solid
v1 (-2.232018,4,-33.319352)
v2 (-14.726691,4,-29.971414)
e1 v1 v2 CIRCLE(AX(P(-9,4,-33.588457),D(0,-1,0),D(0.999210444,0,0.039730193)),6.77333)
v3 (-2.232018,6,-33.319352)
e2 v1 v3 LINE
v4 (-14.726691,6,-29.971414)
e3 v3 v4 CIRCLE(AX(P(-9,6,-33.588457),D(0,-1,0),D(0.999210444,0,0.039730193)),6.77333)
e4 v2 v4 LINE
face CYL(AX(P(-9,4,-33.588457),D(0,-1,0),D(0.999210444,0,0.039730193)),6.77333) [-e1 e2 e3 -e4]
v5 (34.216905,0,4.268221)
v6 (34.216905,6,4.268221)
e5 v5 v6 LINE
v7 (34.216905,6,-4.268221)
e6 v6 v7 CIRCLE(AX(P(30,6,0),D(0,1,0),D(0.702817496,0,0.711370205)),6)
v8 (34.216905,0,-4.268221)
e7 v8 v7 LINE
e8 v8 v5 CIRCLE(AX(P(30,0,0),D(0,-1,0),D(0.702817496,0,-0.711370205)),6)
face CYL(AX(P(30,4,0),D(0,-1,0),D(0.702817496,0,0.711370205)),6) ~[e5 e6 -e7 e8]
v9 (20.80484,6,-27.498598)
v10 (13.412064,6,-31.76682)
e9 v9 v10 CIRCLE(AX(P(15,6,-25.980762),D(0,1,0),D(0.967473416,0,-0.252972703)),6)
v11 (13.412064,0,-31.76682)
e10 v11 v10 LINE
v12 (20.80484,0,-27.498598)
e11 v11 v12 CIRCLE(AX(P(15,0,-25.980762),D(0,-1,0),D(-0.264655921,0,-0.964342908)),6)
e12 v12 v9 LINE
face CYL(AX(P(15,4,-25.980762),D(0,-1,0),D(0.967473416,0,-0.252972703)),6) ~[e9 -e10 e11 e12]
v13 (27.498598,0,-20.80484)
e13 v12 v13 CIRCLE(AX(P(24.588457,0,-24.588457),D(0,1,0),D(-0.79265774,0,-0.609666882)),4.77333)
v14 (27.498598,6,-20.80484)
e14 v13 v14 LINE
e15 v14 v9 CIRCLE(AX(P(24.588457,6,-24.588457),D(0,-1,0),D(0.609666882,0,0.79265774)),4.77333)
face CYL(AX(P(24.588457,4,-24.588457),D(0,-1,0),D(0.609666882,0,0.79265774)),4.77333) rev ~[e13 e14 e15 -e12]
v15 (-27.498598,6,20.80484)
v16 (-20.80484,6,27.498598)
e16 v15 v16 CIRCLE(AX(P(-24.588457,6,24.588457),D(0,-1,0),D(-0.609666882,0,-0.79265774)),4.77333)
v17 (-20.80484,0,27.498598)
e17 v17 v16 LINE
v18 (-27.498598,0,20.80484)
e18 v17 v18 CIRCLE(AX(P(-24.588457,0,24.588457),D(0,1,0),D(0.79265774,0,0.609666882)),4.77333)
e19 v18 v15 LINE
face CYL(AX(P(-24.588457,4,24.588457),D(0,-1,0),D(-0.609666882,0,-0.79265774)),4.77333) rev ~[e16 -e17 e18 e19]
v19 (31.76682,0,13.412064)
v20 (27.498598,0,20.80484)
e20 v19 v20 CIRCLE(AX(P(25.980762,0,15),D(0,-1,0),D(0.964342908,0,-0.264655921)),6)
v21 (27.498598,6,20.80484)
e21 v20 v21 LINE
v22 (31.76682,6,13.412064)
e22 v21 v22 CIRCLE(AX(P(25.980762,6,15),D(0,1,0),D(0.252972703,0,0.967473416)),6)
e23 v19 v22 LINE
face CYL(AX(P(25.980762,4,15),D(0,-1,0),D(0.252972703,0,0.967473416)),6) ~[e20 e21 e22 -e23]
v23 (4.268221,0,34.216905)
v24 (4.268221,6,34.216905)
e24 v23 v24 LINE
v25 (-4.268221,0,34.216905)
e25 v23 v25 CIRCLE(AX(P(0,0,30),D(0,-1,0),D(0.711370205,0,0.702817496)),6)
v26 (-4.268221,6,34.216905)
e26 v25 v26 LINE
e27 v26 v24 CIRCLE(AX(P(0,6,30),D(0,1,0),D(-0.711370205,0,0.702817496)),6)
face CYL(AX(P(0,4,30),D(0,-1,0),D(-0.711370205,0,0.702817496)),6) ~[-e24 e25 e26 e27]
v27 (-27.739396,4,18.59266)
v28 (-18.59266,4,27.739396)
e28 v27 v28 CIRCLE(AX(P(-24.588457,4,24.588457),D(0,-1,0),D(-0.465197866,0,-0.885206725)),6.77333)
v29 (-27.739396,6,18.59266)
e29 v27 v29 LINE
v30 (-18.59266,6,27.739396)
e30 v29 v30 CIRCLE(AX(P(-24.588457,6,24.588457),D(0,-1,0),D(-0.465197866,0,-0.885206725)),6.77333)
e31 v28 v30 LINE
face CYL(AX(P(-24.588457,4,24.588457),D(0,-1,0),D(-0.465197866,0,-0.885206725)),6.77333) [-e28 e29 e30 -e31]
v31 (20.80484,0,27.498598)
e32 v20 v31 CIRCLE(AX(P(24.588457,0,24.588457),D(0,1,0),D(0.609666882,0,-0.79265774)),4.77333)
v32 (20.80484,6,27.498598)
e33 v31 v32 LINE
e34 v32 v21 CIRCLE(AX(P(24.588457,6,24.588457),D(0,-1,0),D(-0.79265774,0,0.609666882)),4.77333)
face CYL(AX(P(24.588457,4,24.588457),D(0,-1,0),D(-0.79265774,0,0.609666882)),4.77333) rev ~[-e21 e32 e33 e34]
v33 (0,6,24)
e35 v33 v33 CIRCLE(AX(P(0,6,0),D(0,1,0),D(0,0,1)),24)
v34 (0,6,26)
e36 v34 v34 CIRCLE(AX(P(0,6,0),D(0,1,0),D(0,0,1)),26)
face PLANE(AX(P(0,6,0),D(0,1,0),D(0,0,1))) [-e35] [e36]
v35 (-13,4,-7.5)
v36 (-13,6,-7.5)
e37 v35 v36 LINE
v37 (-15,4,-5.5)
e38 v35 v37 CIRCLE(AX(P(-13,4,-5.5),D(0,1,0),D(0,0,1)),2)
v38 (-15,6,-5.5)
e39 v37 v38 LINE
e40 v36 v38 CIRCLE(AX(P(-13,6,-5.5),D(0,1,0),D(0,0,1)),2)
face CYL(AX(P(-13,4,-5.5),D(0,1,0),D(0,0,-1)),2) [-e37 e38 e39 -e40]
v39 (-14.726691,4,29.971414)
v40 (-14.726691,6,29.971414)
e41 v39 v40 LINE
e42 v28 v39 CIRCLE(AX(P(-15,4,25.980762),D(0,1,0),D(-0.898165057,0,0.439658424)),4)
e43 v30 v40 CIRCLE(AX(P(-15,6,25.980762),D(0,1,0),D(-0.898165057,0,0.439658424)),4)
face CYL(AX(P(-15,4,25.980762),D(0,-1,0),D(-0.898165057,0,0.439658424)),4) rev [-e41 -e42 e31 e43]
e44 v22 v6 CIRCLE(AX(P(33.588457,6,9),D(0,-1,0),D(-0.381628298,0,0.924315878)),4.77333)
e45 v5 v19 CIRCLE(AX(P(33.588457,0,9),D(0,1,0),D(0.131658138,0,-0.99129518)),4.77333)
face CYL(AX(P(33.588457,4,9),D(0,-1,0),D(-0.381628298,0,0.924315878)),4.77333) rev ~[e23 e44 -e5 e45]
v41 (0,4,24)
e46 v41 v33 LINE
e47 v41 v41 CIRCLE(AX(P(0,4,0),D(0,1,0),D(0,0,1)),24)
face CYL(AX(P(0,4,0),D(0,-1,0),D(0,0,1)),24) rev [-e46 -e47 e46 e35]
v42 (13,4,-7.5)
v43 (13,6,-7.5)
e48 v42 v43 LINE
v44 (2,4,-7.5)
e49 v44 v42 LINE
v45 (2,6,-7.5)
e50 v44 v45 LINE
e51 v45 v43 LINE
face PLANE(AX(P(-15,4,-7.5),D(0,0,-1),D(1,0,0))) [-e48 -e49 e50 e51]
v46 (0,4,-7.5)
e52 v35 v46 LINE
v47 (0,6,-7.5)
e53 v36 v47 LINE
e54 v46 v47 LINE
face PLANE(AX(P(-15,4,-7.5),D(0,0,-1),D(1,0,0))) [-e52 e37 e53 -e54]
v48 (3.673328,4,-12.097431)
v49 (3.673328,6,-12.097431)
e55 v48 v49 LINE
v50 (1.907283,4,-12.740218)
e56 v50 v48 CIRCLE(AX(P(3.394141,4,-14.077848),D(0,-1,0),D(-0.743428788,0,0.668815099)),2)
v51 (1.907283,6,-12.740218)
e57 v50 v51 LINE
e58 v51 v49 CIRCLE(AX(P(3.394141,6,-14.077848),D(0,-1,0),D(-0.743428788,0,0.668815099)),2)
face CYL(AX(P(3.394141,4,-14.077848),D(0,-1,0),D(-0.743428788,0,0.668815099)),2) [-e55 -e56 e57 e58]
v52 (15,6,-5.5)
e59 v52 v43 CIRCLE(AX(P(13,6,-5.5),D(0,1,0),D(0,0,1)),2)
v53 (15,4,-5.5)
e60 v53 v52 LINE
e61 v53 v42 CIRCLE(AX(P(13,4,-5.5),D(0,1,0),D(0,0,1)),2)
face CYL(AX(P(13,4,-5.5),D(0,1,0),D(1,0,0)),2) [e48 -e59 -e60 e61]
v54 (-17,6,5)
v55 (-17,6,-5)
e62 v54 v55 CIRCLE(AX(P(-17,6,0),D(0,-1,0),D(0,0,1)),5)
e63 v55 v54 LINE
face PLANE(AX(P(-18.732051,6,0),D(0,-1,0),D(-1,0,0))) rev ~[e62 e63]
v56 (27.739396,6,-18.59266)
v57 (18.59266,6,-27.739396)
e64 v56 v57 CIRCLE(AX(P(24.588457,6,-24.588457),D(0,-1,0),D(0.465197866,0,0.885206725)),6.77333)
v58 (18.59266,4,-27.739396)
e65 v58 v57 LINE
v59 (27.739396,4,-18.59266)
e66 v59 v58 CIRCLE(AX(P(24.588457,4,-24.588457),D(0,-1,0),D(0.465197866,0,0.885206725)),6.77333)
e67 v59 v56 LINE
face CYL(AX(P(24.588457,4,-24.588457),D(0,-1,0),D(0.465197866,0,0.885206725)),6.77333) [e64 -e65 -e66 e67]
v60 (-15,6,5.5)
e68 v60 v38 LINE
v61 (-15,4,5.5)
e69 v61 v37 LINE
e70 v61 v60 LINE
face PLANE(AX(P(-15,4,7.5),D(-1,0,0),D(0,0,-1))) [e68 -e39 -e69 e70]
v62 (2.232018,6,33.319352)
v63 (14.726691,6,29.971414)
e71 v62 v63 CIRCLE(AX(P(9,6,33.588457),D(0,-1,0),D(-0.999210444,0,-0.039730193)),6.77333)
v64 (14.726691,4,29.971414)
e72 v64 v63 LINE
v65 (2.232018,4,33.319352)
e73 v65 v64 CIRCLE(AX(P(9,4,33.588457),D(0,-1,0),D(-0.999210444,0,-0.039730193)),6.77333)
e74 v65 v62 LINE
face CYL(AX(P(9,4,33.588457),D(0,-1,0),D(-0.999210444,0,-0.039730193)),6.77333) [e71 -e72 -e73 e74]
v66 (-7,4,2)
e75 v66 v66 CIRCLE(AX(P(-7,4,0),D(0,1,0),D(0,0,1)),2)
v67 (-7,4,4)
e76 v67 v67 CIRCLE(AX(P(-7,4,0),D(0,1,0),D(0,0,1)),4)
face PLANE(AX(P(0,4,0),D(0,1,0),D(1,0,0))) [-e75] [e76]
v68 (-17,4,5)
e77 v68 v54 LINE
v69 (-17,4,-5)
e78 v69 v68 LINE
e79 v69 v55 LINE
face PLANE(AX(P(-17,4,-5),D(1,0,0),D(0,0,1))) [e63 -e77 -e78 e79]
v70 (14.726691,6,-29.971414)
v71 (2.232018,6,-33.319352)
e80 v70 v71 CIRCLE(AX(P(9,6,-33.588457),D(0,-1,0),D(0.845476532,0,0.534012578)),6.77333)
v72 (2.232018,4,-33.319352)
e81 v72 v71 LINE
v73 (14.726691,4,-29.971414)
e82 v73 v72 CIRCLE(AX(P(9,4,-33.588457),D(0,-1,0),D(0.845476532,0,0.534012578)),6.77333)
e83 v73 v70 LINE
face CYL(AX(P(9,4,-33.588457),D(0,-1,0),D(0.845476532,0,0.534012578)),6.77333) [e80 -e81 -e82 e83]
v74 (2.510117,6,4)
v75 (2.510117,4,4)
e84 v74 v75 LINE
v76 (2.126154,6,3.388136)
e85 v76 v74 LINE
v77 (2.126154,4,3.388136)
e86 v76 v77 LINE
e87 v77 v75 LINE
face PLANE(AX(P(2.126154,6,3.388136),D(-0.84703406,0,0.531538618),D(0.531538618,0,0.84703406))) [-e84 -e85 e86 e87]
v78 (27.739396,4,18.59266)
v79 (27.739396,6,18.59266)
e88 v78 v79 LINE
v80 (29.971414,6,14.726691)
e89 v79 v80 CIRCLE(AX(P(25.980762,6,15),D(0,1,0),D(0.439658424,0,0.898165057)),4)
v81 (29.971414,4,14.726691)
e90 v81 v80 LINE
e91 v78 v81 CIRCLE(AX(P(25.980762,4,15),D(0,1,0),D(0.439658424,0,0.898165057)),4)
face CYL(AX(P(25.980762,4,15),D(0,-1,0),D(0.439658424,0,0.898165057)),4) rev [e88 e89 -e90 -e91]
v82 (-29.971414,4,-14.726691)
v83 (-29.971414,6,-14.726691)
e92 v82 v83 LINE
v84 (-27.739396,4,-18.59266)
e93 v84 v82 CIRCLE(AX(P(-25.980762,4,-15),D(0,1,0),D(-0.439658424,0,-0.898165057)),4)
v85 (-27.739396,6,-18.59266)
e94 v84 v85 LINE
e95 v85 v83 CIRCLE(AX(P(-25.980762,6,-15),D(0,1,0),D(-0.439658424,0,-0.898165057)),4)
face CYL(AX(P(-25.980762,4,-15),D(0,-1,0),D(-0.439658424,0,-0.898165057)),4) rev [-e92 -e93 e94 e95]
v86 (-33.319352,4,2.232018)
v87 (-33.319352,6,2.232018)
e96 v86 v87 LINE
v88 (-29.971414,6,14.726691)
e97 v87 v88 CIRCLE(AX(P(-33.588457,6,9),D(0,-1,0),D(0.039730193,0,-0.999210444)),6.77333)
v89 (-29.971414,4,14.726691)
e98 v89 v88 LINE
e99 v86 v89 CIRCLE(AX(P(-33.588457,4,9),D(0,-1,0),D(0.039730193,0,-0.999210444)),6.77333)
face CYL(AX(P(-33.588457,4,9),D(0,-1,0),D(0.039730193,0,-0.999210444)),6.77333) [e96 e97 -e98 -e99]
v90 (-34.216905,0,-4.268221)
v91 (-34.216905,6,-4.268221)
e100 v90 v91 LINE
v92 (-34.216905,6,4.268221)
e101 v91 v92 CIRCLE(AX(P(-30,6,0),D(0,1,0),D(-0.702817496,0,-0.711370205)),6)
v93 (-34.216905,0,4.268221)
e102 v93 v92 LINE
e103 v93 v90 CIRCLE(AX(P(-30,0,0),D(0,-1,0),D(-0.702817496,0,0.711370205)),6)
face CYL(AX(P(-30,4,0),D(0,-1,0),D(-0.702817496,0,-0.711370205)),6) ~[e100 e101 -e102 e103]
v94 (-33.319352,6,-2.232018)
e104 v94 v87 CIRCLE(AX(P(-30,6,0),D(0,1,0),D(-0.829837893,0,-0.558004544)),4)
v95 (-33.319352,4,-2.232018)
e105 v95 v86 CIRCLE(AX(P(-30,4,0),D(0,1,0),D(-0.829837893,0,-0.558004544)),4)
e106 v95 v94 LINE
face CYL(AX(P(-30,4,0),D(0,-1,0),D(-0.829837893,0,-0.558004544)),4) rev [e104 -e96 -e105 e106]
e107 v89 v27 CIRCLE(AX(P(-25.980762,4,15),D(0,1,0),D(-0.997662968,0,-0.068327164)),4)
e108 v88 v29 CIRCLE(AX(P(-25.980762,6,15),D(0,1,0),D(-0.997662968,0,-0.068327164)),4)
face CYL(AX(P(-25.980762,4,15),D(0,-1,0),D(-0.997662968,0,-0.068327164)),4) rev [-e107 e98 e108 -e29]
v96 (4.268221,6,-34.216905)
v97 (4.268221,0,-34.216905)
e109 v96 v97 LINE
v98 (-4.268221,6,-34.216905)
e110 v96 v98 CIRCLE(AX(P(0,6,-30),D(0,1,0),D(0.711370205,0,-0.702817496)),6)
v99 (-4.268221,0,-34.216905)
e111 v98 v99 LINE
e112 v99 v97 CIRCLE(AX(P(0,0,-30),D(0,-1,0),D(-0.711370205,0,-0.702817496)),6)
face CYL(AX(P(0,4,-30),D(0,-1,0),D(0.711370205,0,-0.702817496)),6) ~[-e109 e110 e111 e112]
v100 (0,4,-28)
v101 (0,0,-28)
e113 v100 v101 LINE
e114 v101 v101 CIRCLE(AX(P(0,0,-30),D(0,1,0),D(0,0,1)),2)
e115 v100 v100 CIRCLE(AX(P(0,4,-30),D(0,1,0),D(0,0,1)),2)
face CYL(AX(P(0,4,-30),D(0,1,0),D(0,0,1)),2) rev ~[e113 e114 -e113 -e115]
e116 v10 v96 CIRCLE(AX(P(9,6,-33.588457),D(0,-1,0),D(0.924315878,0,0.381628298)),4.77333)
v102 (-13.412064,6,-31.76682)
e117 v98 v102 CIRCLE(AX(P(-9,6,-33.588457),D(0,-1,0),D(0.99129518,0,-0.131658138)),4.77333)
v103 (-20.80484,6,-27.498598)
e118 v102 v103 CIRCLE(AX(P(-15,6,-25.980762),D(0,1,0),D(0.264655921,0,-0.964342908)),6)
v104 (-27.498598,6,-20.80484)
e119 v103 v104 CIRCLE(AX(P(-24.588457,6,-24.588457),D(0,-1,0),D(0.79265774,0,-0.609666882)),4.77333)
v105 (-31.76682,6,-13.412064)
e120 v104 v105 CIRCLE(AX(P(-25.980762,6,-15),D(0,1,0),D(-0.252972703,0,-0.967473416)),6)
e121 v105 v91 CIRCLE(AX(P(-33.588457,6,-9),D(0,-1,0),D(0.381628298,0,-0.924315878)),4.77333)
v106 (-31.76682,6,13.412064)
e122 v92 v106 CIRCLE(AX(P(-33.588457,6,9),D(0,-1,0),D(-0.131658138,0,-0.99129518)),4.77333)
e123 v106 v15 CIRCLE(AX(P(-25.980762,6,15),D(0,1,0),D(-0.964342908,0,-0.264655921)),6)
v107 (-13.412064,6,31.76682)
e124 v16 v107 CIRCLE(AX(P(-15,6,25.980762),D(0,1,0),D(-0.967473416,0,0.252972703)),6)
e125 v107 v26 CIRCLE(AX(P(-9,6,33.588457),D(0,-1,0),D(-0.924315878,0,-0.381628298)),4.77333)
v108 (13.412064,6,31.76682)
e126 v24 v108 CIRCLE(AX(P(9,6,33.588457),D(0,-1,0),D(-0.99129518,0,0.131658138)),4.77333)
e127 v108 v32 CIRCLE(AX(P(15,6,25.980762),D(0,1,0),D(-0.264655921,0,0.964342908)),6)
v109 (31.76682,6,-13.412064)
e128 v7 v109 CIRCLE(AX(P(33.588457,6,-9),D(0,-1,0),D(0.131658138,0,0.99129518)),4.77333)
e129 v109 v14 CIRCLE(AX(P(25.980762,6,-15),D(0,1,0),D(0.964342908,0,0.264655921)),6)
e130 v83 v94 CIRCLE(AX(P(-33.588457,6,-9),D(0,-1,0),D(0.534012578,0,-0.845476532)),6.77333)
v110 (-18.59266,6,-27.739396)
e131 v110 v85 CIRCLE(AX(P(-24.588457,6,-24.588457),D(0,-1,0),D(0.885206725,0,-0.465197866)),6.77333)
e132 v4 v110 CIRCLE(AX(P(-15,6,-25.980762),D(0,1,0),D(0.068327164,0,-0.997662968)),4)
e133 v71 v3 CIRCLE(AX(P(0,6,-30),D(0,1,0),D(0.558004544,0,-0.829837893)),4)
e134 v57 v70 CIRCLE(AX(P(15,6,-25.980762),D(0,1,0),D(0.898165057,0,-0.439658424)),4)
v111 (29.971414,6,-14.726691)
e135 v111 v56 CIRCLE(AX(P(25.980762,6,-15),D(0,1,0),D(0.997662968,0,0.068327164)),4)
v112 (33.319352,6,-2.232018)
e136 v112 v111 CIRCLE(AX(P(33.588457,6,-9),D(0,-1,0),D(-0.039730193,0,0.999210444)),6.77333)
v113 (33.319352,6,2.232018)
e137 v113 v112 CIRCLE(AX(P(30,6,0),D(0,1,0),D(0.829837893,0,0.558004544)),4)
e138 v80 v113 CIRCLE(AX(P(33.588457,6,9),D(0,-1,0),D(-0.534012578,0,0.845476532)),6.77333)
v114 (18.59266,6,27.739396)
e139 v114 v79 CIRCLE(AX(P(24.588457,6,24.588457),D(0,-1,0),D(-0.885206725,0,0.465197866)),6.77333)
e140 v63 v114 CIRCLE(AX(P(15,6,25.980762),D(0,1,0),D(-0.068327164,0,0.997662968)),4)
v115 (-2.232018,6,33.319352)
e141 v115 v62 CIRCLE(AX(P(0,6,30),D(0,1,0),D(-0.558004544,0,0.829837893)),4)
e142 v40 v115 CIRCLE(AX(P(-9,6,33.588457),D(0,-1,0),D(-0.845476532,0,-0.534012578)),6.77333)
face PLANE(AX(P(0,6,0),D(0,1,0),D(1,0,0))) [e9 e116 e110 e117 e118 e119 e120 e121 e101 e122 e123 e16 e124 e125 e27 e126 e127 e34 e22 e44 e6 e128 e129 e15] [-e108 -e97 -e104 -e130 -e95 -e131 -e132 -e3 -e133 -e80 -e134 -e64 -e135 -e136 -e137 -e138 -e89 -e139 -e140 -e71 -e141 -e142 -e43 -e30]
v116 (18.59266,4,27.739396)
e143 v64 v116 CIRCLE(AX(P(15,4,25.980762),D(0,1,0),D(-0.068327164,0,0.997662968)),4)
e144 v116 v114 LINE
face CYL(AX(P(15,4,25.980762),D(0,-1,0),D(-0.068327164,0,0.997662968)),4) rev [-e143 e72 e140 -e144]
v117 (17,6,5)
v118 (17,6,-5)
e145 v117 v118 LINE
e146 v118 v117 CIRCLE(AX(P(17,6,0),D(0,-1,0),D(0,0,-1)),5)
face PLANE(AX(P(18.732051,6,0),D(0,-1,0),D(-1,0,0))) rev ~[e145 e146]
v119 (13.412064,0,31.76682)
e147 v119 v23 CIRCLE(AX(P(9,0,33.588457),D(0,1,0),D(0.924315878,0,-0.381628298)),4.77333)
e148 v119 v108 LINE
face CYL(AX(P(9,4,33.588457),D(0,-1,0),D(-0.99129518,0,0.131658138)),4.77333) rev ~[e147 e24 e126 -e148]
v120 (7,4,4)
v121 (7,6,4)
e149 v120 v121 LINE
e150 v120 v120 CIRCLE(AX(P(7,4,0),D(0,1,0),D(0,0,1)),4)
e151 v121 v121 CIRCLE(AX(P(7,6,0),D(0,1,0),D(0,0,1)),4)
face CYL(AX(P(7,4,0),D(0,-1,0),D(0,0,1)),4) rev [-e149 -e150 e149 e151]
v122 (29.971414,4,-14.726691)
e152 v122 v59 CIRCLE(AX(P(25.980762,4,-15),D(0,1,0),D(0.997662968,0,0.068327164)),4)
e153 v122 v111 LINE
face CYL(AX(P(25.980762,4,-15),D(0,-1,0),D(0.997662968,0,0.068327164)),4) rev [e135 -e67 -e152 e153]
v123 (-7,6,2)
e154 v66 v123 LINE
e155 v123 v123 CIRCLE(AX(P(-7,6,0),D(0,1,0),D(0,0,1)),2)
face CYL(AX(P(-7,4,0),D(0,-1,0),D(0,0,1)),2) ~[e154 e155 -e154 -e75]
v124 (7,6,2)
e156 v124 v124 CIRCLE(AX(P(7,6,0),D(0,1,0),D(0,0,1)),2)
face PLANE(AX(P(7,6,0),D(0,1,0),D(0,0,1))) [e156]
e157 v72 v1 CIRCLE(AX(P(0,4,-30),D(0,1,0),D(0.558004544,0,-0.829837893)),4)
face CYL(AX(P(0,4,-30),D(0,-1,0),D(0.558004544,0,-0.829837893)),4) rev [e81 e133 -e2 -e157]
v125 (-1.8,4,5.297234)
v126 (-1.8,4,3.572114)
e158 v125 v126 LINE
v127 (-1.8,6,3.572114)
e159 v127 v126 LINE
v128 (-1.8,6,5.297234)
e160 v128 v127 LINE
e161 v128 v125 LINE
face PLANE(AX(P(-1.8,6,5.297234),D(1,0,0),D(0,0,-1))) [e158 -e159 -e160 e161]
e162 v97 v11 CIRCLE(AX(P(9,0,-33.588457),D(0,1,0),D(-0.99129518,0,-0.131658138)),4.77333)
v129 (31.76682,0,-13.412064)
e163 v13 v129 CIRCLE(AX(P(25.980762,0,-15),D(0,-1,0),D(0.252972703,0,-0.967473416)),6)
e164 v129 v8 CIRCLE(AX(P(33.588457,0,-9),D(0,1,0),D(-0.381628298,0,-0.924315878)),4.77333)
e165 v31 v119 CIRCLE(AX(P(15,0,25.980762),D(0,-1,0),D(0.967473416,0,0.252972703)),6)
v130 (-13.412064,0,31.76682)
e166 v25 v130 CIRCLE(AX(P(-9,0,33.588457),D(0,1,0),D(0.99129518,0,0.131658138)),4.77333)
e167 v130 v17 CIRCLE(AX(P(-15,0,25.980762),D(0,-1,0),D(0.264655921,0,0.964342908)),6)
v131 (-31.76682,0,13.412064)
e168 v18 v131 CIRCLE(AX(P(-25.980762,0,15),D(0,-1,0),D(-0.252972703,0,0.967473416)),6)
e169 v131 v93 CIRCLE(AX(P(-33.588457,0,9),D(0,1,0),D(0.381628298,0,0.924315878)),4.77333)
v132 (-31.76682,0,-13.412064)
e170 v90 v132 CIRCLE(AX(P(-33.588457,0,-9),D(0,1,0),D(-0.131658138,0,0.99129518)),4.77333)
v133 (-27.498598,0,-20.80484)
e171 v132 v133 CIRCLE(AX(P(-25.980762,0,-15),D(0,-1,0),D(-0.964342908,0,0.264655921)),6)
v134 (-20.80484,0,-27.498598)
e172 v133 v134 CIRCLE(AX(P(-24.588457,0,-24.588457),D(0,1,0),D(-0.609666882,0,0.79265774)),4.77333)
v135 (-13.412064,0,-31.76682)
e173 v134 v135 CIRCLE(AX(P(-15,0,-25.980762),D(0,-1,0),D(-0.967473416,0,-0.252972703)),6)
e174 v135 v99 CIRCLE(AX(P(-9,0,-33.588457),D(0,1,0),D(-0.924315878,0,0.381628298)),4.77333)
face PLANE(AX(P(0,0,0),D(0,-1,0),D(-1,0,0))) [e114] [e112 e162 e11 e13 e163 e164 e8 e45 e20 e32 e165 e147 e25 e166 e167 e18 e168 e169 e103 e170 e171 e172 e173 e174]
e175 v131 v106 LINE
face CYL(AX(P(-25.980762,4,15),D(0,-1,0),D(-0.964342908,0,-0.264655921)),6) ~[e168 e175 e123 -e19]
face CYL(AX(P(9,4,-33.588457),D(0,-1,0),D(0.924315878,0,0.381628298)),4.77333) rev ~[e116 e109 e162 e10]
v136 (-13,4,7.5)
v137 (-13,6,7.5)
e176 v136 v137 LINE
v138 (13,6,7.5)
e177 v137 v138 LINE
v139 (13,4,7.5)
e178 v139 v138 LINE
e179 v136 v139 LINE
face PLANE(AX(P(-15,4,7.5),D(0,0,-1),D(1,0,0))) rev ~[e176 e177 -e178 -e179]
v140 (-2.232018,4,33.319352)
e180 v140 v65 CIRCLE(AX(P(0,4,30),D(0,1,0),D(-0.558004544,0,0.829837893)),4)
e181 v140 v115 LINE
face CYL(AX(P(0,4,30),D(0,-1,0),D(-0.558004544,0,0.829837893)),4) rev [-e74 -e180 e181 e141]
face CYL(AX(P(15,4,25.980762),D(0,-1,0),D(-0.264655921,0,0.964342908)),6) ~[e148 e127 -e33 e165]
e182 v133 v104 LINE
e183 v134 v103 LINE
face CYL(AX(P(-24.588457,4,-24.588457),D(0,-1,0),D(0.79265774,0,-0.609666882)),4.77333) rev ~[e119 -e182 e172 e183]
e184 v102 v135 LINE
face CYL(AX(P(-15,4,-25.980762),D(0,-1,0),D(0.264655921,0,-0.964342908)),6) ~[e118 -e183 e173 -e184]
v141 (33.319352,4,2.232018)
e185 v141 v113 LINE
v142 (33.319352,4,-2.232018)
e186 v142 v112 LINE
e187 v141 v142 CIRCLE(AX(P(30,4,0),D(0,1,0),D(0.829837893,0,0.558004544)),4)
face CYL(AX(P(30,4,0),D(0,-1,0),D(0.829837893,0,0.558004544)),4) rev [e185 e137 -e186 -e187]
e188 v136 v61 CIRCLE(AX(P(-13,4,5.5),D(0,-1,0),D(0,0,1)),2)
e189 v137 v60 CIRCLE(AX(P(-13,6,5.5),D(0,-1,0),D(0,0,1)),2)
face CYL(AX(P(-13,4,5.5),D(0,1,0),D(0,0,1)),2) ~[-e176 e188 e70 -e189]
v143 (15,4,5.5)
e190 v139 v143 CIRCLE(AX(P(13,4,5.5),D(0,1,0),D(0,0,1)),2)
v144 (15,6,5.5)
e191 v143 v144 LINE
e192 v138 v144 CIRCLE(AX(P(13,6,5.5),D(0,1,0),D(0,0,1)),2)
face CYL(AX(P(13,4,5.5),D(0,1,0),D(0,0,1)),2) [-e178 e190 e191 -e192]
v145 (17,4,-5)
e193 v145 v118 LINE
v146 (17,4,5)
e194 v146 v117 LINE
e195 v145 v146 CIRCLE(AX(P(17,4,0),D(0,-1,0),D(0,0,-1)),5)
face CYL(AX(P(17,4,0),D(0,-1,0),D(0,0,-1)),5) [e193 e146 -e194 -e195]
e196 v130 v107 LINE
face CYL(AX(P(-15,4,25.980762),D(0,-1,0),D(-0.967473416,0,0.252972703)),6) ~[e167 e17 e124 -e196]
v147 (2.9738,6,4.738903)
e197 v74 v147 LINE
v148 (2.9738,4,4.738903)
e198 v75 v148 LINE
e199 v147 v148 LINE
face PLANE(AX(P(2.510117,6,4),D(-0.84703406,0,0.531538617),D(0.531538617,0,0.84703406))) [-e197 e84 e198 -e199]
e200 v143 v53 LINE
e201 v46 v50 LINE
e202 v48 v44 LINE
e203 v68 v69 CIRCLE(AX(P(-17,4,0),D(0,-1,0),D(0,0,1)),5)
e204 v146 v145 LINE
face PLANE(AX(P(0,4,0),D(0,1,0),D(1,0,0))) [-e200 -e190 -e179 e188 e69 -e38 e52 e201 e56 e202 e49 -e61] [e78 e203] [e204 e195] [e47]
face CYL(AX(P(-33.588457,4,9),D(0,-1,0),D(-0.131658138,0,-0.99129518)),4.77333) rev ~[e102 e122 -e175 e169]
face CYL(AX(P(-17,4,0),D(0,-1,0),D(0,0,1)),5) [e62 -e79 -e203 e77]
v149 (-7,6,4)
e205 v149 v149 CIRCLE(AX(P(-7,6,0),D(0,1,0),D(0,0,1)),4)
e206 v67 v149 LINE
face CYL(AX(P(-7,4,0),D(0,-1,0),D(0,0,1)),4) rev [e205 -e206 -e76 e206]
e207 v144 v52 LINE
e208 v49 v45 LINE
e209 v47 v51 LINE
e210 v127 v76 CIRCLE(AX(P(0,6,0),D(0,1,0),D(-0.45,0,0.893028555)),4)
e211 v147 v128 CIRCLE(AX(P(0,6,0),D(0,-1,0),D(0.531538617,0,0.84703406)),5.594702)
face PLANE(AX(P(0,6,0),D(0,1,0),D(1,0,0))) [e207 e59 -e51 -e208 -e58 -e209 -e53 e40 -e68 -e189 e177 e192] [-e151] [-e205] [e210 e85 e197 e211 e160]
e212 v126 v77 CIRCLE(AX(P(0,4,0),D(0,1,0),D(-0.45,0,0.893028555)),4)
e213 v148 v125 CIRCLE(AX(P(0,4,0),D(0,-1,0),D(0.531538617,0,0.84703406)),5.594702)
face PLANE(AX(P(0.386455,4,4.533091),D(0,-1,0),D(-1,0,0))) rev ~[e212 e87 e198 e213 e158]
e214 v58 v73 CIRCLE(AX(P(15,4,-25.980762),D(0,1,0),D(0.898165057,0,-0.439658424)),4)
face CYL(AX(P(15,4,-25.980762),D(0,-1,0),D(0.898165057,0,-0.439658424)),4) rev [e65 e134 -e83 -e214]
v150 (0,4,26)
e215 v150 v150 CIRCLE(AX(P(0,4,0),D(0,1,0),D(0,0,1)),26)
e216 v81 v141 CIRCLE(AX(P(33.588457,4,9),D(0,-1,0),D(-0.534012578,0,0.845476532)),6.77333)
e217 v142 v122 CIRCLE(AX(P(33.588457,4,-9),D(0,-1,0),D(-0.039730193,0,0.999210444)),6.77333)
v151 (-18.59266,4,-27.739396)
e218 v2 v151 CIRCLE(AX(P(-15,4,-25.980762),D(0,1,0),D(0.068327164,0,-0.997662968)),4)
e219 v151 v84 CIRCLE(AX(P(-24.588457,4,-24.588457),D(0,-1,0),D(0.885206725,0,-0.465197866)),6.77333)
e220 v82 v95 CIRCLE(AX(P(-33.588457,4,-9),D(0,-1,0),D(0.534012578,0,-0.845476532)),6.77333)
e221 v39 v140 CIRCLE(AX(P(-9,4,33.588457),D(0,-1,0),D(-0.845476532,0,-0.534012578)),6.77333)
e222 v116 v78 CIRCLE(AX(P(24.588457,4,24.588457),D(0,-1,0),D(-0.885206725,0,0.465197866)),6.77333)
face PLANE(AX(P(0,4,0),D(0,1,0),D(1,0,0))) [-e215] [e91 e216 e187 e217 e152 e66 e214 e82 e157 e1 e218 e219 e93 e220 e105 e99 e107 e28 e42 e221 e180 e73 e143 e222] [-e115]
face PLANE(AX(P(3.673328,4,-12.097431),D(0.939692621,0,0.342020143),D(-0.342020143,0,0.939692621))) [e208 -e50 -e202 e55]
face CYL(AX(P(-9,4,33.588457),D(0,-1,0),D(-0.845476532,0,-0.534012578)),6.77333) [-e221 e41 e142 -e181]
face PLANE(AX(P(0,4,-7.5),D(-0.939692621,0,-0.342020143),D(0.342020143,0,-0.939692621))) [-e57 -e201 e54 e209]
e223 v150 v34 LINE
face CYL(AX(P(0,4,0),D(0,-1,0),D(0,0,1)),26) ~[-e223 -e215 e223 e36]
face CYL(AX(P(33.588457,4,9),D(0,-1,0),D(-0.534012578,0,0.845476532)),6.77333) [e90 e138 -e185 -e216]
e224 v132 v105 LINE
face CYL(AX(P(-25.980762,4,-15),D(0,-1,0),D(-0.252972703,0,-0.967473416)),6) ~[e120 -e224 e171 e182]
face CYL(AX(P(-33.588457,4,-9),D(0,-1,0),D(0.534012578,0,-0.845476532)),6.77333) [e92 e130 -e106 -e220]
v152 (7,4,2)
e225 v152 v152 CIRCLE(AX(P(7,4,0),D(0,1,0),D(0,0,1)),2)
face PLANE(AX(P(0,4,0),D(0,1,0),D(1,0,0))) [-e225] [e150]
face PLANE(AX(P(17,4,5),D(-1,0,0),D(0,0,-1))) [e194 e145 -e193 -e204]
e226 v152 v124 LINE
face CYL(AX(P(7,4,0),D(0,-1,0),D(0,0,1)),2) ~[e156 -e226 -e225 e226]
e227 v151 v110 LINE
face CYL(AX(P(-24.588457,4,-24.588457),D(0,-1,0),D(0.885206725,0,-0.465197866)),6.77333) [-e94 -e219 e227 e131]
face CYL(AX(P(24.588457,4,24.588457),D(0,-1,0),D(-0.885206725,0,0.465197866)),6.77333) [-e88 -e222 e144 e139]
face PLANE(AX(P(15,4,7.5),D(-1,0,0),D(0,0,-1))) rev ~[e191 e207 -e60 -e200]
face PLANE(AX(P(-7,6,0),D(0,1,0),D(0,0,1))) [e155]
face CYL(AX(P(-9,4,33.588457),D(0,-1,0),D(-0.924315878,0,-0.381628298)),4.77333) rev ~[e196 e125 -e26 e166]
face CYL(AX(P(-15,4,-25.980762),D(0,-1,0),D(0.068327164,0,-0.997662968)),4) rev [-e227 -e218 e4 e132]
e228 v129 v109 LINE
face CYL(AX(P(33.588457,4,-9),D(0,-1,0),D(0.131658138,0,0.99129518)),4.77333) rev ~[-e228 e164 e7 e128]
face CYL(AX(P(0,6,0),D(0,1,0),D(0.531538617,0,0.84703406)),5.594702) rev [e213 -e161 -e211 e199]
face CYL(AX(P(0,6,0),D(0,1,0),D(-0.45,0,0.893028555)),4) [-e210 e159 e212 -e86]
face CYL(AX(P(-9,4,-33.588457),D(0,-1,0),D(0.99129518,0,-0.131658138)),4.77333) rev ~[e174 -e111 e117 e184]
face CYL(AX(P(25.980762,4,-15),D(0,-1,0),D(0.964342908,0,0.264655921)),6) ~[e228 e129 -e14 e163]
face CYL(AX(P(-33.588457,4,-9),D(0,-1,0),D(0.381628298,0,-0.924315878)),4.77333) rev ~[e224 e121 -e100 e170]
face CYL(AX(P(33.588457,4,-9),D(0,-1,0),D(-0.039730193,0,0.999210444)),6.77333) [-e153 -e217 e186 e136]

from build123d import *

# Parameters (mm, degrees)
BOSS_EXTRUDE1_DEPTH = 4
BOSS_EXTRUDE3_DEPTH = 2
CUT_EXTRUDE1_DEPTH  = 2
SKETCH2_R           = 26
SKETCH2_R_2         = 24
BOSS_EXTRUDE4_DEPTH = 2
SKETCH5_W           = 30
SKETCH5_H           = 15
SKETCH5_R           = 4
SKETCH5_R_2         = 2
BOSS_EXTRUDE5_DEPTH = 2
BOSS_EXTRUDE6_DEPTH = 2
CUT_EXTRUDE2_DEPTH  = 2
SKETCH8_R           = 2
CUT_EXTRUDE3_DEPTH  = 6
FILLET1_R           = 2


with BuildPart() as part:
    # Sketch1 → Boss-Extrude1 (new body)
    with BuildSketch(Plane(origin=(0, 0, 0), x_dir=(1, 0, 0), z_dir=(0, 1, 0))):
        with BuildLine():
            ThreePointArc((31.766819559, 13.412064474), (28.977774789, 7.764571353), (34.216904973, 4.268221228))
            ThreePointArc((34.216904973, 4.268221228), (36, 0), (34.216904973, -4.268221228))
            ThreePointArc((34.216904973, -4.268221228), (28.977774789, -7.764571353), (31.766819559, -13.412064474))
            ThreePointArc((31.766819559, -13.412064474), (31.176914536, -18), (27.498598332, -20.804840499))
            ThreePointArc((27.498598332, -20.804840499), (21.213203436, -21.213203436), (20.804840499, -27.498598332))
            ThreePointArc((20.804840499, -27.498598332), (18, -31.176914536), (13.412064474, -31.766819559))
            ThreePointArc((13.412064474, -31.766819559), (7.764571353, -28.977774789), (4.268221228, -34.216904973))
            ThreePointArc((4.268221228, -34.216904973), (0, -36), (-4.268221228, -34.216904973))
            ThreePointArc((-4.268221228, -34.216904973), (-7.764571353, -28.977774789), (-13.412064474, -31.766819559))
            ThreePointArc((-13.412064474, -31.766819559), (-18, -31.176914536), (-20.804840499, -27.498598332))
            ThreePointArc((-20.804840499, -27.498598332), (-21.213203436, -21.213203436), (-27.498598332, -20.804840499))
            ThreePointArc((-27.498598332, -20.804840499), (-31.176914536, -18), (-31.766819559, -13.412064474))
            ThreePointArc((-31.766819559, -13.412064474), (-28.977774789, -7.764571353), (-34.216904973, -4.268221228))
            ThreePointArc((-34.216904973, -4.268221228), (-36, 0), (-34.216904973, 4.268221228))
            ThreePointArc((-34.216904973, 4.268221228), (-28.977774789, 7.764571353), (-31.766819559, 13.412064474))
            ThreePointArc((-31.766819559, 13.412064474), (-31.176914536, 18), (-27.498598332, 20.804840499))
            ThreePointArc((-27.498598332, 20.804840499), (-21.213203436, 21.213203436), (-20.804840499, 27.498598332))
            ThreePointArc((-20.804840499, 27.498598332), (-18, 31.176914536), (-13.412064474, 31.766819559))
            ThreePointArc((-13.412064474, 31.766819559), (-7.764571353, 28.977774789), (-4.268221228, 34.216904973))
            ThreePointArc((-4.268221228, 34.216904973), (0, 36), (4.268221228, 34.216904973))
            ThreePointArc((4.268221228, 34.216904973), (7.764571353, 28.977774789), (13.412064474, 31.766819559))
            ThreePointArc((13.412064474, 31.766819559), (18, 31.176914536), (20.804840499, 27.498598332))
            ThreePointArc((20.804840499, 27.498598332), (21.213203436, 21.213203436), (27.498598332, 20.804840499))
            ThreePointArc((27.498598332, 20.804840499), (31.176914536, 18), (31.766819559, 13.412064474))
        make_face()
    extrude(amount=BOSS_EXTRUDE1_DEPTH)

    # Sketch4 → Boss-Extrude3 (add)
    with BuildSketch(Plane(origin=(0, 4, 0), x_dir=(1, 0, 0), z_dir=(0, 1, 0))):
        with BuildLine():
            ThreePointArc((-13.412064474, 31.766819559), (-18, 31.176914536), (-20.804840499, 27.498598332))
            ThreePointArc((-20.804840499, 27.498598332), (-21.213203436, 21.213203436), (-27.498598332, 20.804840499))
            ThreePointArc((-27.498598332, 20.804840499), (-31.176914536, 18), (-31.766819559, 13.412064474))
            ThreePointArc((-31.766819559, 13.412064474), (-28.977774789, 7.764571353), (-34.216904973, 4.268221228))
            ThreePointArc((-34.216904973, 4.268221228), (-36, 0), (-34.216904973, -4.268221228))
            ThreePointArc((-34.216904973, -4.268221228), (-28.977774789, -7.764571353), (-31.766819559, -13.412064474))
            ThreePointArc((-31.766819559, -13.412064474), (-31.176914536, -18), (-27.498598332, -20.804840499))
            ThreePointArc((-27.498598332, -20.804840499), (-21.213203436, -21.213203436), (-20.804840499, -27.498598332))
            ThreePointArc((-20.804840499, -27.498598332), (-18, -31.176914536), (-13.412064474, -31.766819559))
            ThreePointArc((-13.412064474, -31.766819559), (-7.764571353, -28.977774789), (-4.268221228, -34.216904973))
            ThreePointArc((-4.268221228, -34.216904973), (0, -36), (4.268221228, -34.216904973))
            ThreePointArc((4.268221228, -34.216904973), (7.764571353, -28.977774789), (13.412064474, -31.766819559))
            ThreePointArc((13.412064474, -31.766819559), (18, -31.176914536), (20.804840499, -27.498598332))
            ThreePointArc((20.804840499, -27.498598332), (21.213203436, -21.213203436), (27.498598332, -20.804840499))
            ThreePointArc((27.498598332, -20.804840499), (31.176914536, -18), (31.766819559, -13.412064474))
            ThreePointArc((31.766819559, -13.412064474), (28.977774789, -7.764571353), (34.216904973, -4.268221228))
            ThreePointArc((34.216904973, -4.268221228), (36, 0), (34.216904973, 4.268221228))
            ThreePointArc((34.216904973, 4.268221228), (28.977774789, 7.764571353), (31.766819559, 13.412064474))
            ThreePointArc((31.766819559, 13.412064474), (31.176914536, 18), (27.498598332, 20.804840499))
            ThreePointArc((27.498598332, 20.804840499), (21.213203436, 21.213203436), (20.804840499, 27.498598332))
            ThreePointArc((20.804840499, 27.498598332), (18, 31.176914536), (13.412064474, 31.766819559))
            ThreePointArc((13.412064474, 31.766819559), (7.764571353, 28.977774789), (4.268221228, 34.216904973))
            ThreePointArc((4.268221228, 34.216904973), (0, 36), (-4.268221228, 34.216904973))
            ThreePointArc((-4.268221228, 34.216904973), (-7.764571353, 28.977774789), (-13.412064474, 31.766819559))
        make_face()
    extrude(amount=BOSS_EXTRUDE3_DEPTH)

    # Sketch3 → Cut-Extrude1 (cut)
    with BuildSketch(Plane(origin=(0, 4, 0), x_dir=(1, 0, 0), z_dir=(0, 1, 0))):
        with BuildLine():
            ThreePointArc((-14.726691345, 29.971413987), (-17, 29.444863729), (-18.592660228, 27.739395812))
            ThreePointArc((-18.592660228, 27.739395812), (-19.798989873, 19.798989873), (-27.739395812, 18.592660228))
            ThreePointArc((-27.739395812, 18.592660228), (-29.444863729, 17), (-29.971413987, 14.726691345))
            ThreePointArc((-29.971413987, 14.726691345), (-27.045923136, 7.246933263), (-33.319351573, 2.232018175))
            ThreePointArc((-33.319351573, 2.232018175), (-34, 0), (-33.319351573, -2.232018175))
            ThreePointArc((-33.319351573, -2.232018175), (-27.045923136, -7.246933263), (-29.971413987, -14.726691345))
            ThreePointArc((-29.971413987, -14.726691345), (-29.444863729, -17), (-27.739395812, -18.592660228))
            ThreePointArc((-27.739395812, -18.592660228), (-19.798989873, -19.798989873), (-18.592660228, -27.739395812))
            ThreePointArc((-18.592660228, -27.739395812), (-17, -29.444863729), (-14.726691345, -29.971413987))
            ThreePointArc((-14.726691345, -29.971413987), (-7.246933263, -27.045923136), (-2.232018175, -33.319351573))
            ThreePointArc((-2.232018175, -33.319351573), (0, -34), (2.232018175, -33.319351573))
            ThreePointArc((2.232018175, -33.319351573), (7.246933263, -27.045923136), (14.726691345, -29.971413987))
            ThreePointArc((14.726691345, -29.971413987), (17, -29.444863729), (18.592660228, -27.739395812))
            ThreePointArc((18.592660228, -27.739395812), (19.798989873, -19.798989873), (27.739395812, -18.592660228))
            ThreePointArc((27.739395812, -18.592660228), (29.444863729, -17), (29.971413987, -14.726691345))
            ThreePointArc((29.971413987, -14.726691345), (27.045923136, -7.246933263), (33.319351573, -2.232018175))
            ThreePointArc((33.319351573, -2.232018175), (34, 0), (33.319351573, 2.232018175))
            ThreePointArc((33.319351573, 2.232018175), (27.045923136, 7.246933263), (29.971413987, 14.726691345))
            ThreePointArc((29.971413987, 14.726691345), (29.444863729, 17), (27.739395812, 18.592660228))
            ThreePointArc((27.739395812, 18.592660228), (19.798989873, 19.798989873), (18.592660228, 27.739395812))
            ThreePointArc((18.592660228, 27.739395812), (17, 29.444863729), (14.726691345, 29.971413987))
            ThreePointArc((14.726691345, 29.971413987), (7.246933263, 27.045923136), (2.232018175, 33.319351573))
            ThreePointArc((2.232018175, 33.319351573), (0, 34), (-2.232018175, 33.319351573))
            ThreePointArc((-2.232018175, 33.319351573), (-7.246933263, 27.045923136), (-14.726691345, 29.971413987))
        make_face()
    extrude(amount=CUT_EXTRUDE1_DEPTH, mode=Mode.SUBTRACT)

    # Sketch2 → Boss-Extrude4 (add)
    with BuildSketch(Plane(origin=(0, 4, 0), x_dir=(1, 0, 0), z_dir=(0, 1, 0))):
        with Locations(Location((0, 0, 0), (0, 0, 270))):
            Circle(SKETCH2_R)
        with Locations(Location((0, 0, 0), (0, 0, 270))):
            Circle(SKETCH2_R_2, mode=Mode.SUBTRACT)
    extrude(amount=BOSS_EXTRUDE4_DEPTH)

    # Sketch5 → Boss-Extrude5 (add)
    # profile 1 of 5: a face of its own
    with BuildSketch(Plane(origin=(0, 4, 0), x_dir=(1, 0, 0), z_dir=(0, 1, 0))):
        with BuildLine():
            Line((-17, 5), (-17, -5))
            ThreePointArc((-17, -5), (-22, 0), (-17, 5))
        make_face()
    # profile 2 of 5: a face of its own
    with BuildSketch(Plane(origin=(0, 4, 0), x_dir=(1, 0, 0), z_dir=(0, 1, 0))):
        Rectangle(SKETCH5_W, SKETCH5_H)
        with Locations(Location((-7, 0, 0), (0, 0, 270))):
            Circle(SKETCH5_R, mode=Mode.SUBTRACT)
        with Locations(Location((7, 0, 0), (0, 0, 270))):
            Circle(SKETCH5_R, mode=Mode.SUBTRACT)
    # profile 3 of 5: a face of its own
    with BuildSketch(Plane(origin=(0, 4, 0), x_dir=(1, 0, 0), z_dir=(0, 1, 0))):
        with Locations(Location((-7, 0, 0), (0, 0, 270))):
            Circle(SKETCH5_R_2)
    # profile 4 of 5: a face of its own
    with BuildSketch(Plane(origin=(0, 4, 0), x_dir=(1, 0, 0), z_dir=(0, 1, 0))):
        with Locations(Location((7, 0, 0), (0, 0, 270))):
            Circle(SKETCH5_R_2)
    # profile 5 of 5: a face of its own
    with BuildSketch(Plane(origin=(0, 4, 0), x_dir=(1, 0, 0), z_dir=(0, 1, 0))):
        with BuildLine():
            ThreePointArc((17, 5), (22, 0), (17, -5))
            Line((17, -5), (17, 5))
        make_face()
    extrude(amount=BOSS_EXTRUDE5_DEPTH)

    # Sketch6 → Boss-Extrude6 (add)
    with BuildSketch(Plane(origin=(0, 4, 0), x_dir=(1, 0, 0), z_dir=(0, 1, 0))):
        with BuildLine():
            Line((0, 7.5), (1.907283427, 12.740218147))
            ThreePointArc((1.907283427, 12.740218147), (4.07818129, 15.957233587), (3.67332787, 12.097430538))
            Line((3.67332787, 12.097430538), (2, 7.5))
            Line((2, 7.5), (0, 7.5))
        make_face()
    extrude(amount=BOSS_EXTRUDE6_DEPTH)

    # Sketch7 → Cut-Extrude2 (cut)
    with BuildSketch(Plane(origin=(0, 6, 0), x_dir=(1, 0, 0), z_dir=(0, 1, 0))):
        with BuildLine():
            Line((2.126154469, -3.388136239), (2.510116854, -4))
            Line((2.510116854, -4), (2.973799982, -4.738902857))
            ThreePointArc((2.973799982, -4.738902857), (0.649911516, -5.55682478), (-1.8, -5.297233865))
            Line((-1.8, -5.297233865), (-1.8, -3.57211422))
            ThreePointArc((-1.8, -3.57211422), (0.1872329, -3.995615577), (2.126154469, -3.388136239))
        make_face()
    extrude(amount=-CUT_EXTRUDE2_DEPTH, mode=Mode.SUBTRACT)

    # Sketch8 → Cut-Extrude3 (cut)
    with BuildSketch(Plane(origin=(0, 4, 0), x_dir=(1, 0, 0), z_dir=(0, 1, 0))):
        with Locations(Location((0, 30, 0), (0, 0, 270))):
            Circle(SKETCH8_R)
    extrude(amount=-CUT_EXTRUDE3_DEPTH, mode=Mode.SUBTRACT)

    # Fillet1
    fillet1_edges = [part.edges().sort_by_distance(p)[0] for p in [
        (-15, 5, 7.5),
        (15, 5, 7.5),
        (15, 5, -7.5),
        (-15, 5, -7.5),
    ]]
    fillet(fillet1_edges, radius=FILLET1_R)


solid = part.part
